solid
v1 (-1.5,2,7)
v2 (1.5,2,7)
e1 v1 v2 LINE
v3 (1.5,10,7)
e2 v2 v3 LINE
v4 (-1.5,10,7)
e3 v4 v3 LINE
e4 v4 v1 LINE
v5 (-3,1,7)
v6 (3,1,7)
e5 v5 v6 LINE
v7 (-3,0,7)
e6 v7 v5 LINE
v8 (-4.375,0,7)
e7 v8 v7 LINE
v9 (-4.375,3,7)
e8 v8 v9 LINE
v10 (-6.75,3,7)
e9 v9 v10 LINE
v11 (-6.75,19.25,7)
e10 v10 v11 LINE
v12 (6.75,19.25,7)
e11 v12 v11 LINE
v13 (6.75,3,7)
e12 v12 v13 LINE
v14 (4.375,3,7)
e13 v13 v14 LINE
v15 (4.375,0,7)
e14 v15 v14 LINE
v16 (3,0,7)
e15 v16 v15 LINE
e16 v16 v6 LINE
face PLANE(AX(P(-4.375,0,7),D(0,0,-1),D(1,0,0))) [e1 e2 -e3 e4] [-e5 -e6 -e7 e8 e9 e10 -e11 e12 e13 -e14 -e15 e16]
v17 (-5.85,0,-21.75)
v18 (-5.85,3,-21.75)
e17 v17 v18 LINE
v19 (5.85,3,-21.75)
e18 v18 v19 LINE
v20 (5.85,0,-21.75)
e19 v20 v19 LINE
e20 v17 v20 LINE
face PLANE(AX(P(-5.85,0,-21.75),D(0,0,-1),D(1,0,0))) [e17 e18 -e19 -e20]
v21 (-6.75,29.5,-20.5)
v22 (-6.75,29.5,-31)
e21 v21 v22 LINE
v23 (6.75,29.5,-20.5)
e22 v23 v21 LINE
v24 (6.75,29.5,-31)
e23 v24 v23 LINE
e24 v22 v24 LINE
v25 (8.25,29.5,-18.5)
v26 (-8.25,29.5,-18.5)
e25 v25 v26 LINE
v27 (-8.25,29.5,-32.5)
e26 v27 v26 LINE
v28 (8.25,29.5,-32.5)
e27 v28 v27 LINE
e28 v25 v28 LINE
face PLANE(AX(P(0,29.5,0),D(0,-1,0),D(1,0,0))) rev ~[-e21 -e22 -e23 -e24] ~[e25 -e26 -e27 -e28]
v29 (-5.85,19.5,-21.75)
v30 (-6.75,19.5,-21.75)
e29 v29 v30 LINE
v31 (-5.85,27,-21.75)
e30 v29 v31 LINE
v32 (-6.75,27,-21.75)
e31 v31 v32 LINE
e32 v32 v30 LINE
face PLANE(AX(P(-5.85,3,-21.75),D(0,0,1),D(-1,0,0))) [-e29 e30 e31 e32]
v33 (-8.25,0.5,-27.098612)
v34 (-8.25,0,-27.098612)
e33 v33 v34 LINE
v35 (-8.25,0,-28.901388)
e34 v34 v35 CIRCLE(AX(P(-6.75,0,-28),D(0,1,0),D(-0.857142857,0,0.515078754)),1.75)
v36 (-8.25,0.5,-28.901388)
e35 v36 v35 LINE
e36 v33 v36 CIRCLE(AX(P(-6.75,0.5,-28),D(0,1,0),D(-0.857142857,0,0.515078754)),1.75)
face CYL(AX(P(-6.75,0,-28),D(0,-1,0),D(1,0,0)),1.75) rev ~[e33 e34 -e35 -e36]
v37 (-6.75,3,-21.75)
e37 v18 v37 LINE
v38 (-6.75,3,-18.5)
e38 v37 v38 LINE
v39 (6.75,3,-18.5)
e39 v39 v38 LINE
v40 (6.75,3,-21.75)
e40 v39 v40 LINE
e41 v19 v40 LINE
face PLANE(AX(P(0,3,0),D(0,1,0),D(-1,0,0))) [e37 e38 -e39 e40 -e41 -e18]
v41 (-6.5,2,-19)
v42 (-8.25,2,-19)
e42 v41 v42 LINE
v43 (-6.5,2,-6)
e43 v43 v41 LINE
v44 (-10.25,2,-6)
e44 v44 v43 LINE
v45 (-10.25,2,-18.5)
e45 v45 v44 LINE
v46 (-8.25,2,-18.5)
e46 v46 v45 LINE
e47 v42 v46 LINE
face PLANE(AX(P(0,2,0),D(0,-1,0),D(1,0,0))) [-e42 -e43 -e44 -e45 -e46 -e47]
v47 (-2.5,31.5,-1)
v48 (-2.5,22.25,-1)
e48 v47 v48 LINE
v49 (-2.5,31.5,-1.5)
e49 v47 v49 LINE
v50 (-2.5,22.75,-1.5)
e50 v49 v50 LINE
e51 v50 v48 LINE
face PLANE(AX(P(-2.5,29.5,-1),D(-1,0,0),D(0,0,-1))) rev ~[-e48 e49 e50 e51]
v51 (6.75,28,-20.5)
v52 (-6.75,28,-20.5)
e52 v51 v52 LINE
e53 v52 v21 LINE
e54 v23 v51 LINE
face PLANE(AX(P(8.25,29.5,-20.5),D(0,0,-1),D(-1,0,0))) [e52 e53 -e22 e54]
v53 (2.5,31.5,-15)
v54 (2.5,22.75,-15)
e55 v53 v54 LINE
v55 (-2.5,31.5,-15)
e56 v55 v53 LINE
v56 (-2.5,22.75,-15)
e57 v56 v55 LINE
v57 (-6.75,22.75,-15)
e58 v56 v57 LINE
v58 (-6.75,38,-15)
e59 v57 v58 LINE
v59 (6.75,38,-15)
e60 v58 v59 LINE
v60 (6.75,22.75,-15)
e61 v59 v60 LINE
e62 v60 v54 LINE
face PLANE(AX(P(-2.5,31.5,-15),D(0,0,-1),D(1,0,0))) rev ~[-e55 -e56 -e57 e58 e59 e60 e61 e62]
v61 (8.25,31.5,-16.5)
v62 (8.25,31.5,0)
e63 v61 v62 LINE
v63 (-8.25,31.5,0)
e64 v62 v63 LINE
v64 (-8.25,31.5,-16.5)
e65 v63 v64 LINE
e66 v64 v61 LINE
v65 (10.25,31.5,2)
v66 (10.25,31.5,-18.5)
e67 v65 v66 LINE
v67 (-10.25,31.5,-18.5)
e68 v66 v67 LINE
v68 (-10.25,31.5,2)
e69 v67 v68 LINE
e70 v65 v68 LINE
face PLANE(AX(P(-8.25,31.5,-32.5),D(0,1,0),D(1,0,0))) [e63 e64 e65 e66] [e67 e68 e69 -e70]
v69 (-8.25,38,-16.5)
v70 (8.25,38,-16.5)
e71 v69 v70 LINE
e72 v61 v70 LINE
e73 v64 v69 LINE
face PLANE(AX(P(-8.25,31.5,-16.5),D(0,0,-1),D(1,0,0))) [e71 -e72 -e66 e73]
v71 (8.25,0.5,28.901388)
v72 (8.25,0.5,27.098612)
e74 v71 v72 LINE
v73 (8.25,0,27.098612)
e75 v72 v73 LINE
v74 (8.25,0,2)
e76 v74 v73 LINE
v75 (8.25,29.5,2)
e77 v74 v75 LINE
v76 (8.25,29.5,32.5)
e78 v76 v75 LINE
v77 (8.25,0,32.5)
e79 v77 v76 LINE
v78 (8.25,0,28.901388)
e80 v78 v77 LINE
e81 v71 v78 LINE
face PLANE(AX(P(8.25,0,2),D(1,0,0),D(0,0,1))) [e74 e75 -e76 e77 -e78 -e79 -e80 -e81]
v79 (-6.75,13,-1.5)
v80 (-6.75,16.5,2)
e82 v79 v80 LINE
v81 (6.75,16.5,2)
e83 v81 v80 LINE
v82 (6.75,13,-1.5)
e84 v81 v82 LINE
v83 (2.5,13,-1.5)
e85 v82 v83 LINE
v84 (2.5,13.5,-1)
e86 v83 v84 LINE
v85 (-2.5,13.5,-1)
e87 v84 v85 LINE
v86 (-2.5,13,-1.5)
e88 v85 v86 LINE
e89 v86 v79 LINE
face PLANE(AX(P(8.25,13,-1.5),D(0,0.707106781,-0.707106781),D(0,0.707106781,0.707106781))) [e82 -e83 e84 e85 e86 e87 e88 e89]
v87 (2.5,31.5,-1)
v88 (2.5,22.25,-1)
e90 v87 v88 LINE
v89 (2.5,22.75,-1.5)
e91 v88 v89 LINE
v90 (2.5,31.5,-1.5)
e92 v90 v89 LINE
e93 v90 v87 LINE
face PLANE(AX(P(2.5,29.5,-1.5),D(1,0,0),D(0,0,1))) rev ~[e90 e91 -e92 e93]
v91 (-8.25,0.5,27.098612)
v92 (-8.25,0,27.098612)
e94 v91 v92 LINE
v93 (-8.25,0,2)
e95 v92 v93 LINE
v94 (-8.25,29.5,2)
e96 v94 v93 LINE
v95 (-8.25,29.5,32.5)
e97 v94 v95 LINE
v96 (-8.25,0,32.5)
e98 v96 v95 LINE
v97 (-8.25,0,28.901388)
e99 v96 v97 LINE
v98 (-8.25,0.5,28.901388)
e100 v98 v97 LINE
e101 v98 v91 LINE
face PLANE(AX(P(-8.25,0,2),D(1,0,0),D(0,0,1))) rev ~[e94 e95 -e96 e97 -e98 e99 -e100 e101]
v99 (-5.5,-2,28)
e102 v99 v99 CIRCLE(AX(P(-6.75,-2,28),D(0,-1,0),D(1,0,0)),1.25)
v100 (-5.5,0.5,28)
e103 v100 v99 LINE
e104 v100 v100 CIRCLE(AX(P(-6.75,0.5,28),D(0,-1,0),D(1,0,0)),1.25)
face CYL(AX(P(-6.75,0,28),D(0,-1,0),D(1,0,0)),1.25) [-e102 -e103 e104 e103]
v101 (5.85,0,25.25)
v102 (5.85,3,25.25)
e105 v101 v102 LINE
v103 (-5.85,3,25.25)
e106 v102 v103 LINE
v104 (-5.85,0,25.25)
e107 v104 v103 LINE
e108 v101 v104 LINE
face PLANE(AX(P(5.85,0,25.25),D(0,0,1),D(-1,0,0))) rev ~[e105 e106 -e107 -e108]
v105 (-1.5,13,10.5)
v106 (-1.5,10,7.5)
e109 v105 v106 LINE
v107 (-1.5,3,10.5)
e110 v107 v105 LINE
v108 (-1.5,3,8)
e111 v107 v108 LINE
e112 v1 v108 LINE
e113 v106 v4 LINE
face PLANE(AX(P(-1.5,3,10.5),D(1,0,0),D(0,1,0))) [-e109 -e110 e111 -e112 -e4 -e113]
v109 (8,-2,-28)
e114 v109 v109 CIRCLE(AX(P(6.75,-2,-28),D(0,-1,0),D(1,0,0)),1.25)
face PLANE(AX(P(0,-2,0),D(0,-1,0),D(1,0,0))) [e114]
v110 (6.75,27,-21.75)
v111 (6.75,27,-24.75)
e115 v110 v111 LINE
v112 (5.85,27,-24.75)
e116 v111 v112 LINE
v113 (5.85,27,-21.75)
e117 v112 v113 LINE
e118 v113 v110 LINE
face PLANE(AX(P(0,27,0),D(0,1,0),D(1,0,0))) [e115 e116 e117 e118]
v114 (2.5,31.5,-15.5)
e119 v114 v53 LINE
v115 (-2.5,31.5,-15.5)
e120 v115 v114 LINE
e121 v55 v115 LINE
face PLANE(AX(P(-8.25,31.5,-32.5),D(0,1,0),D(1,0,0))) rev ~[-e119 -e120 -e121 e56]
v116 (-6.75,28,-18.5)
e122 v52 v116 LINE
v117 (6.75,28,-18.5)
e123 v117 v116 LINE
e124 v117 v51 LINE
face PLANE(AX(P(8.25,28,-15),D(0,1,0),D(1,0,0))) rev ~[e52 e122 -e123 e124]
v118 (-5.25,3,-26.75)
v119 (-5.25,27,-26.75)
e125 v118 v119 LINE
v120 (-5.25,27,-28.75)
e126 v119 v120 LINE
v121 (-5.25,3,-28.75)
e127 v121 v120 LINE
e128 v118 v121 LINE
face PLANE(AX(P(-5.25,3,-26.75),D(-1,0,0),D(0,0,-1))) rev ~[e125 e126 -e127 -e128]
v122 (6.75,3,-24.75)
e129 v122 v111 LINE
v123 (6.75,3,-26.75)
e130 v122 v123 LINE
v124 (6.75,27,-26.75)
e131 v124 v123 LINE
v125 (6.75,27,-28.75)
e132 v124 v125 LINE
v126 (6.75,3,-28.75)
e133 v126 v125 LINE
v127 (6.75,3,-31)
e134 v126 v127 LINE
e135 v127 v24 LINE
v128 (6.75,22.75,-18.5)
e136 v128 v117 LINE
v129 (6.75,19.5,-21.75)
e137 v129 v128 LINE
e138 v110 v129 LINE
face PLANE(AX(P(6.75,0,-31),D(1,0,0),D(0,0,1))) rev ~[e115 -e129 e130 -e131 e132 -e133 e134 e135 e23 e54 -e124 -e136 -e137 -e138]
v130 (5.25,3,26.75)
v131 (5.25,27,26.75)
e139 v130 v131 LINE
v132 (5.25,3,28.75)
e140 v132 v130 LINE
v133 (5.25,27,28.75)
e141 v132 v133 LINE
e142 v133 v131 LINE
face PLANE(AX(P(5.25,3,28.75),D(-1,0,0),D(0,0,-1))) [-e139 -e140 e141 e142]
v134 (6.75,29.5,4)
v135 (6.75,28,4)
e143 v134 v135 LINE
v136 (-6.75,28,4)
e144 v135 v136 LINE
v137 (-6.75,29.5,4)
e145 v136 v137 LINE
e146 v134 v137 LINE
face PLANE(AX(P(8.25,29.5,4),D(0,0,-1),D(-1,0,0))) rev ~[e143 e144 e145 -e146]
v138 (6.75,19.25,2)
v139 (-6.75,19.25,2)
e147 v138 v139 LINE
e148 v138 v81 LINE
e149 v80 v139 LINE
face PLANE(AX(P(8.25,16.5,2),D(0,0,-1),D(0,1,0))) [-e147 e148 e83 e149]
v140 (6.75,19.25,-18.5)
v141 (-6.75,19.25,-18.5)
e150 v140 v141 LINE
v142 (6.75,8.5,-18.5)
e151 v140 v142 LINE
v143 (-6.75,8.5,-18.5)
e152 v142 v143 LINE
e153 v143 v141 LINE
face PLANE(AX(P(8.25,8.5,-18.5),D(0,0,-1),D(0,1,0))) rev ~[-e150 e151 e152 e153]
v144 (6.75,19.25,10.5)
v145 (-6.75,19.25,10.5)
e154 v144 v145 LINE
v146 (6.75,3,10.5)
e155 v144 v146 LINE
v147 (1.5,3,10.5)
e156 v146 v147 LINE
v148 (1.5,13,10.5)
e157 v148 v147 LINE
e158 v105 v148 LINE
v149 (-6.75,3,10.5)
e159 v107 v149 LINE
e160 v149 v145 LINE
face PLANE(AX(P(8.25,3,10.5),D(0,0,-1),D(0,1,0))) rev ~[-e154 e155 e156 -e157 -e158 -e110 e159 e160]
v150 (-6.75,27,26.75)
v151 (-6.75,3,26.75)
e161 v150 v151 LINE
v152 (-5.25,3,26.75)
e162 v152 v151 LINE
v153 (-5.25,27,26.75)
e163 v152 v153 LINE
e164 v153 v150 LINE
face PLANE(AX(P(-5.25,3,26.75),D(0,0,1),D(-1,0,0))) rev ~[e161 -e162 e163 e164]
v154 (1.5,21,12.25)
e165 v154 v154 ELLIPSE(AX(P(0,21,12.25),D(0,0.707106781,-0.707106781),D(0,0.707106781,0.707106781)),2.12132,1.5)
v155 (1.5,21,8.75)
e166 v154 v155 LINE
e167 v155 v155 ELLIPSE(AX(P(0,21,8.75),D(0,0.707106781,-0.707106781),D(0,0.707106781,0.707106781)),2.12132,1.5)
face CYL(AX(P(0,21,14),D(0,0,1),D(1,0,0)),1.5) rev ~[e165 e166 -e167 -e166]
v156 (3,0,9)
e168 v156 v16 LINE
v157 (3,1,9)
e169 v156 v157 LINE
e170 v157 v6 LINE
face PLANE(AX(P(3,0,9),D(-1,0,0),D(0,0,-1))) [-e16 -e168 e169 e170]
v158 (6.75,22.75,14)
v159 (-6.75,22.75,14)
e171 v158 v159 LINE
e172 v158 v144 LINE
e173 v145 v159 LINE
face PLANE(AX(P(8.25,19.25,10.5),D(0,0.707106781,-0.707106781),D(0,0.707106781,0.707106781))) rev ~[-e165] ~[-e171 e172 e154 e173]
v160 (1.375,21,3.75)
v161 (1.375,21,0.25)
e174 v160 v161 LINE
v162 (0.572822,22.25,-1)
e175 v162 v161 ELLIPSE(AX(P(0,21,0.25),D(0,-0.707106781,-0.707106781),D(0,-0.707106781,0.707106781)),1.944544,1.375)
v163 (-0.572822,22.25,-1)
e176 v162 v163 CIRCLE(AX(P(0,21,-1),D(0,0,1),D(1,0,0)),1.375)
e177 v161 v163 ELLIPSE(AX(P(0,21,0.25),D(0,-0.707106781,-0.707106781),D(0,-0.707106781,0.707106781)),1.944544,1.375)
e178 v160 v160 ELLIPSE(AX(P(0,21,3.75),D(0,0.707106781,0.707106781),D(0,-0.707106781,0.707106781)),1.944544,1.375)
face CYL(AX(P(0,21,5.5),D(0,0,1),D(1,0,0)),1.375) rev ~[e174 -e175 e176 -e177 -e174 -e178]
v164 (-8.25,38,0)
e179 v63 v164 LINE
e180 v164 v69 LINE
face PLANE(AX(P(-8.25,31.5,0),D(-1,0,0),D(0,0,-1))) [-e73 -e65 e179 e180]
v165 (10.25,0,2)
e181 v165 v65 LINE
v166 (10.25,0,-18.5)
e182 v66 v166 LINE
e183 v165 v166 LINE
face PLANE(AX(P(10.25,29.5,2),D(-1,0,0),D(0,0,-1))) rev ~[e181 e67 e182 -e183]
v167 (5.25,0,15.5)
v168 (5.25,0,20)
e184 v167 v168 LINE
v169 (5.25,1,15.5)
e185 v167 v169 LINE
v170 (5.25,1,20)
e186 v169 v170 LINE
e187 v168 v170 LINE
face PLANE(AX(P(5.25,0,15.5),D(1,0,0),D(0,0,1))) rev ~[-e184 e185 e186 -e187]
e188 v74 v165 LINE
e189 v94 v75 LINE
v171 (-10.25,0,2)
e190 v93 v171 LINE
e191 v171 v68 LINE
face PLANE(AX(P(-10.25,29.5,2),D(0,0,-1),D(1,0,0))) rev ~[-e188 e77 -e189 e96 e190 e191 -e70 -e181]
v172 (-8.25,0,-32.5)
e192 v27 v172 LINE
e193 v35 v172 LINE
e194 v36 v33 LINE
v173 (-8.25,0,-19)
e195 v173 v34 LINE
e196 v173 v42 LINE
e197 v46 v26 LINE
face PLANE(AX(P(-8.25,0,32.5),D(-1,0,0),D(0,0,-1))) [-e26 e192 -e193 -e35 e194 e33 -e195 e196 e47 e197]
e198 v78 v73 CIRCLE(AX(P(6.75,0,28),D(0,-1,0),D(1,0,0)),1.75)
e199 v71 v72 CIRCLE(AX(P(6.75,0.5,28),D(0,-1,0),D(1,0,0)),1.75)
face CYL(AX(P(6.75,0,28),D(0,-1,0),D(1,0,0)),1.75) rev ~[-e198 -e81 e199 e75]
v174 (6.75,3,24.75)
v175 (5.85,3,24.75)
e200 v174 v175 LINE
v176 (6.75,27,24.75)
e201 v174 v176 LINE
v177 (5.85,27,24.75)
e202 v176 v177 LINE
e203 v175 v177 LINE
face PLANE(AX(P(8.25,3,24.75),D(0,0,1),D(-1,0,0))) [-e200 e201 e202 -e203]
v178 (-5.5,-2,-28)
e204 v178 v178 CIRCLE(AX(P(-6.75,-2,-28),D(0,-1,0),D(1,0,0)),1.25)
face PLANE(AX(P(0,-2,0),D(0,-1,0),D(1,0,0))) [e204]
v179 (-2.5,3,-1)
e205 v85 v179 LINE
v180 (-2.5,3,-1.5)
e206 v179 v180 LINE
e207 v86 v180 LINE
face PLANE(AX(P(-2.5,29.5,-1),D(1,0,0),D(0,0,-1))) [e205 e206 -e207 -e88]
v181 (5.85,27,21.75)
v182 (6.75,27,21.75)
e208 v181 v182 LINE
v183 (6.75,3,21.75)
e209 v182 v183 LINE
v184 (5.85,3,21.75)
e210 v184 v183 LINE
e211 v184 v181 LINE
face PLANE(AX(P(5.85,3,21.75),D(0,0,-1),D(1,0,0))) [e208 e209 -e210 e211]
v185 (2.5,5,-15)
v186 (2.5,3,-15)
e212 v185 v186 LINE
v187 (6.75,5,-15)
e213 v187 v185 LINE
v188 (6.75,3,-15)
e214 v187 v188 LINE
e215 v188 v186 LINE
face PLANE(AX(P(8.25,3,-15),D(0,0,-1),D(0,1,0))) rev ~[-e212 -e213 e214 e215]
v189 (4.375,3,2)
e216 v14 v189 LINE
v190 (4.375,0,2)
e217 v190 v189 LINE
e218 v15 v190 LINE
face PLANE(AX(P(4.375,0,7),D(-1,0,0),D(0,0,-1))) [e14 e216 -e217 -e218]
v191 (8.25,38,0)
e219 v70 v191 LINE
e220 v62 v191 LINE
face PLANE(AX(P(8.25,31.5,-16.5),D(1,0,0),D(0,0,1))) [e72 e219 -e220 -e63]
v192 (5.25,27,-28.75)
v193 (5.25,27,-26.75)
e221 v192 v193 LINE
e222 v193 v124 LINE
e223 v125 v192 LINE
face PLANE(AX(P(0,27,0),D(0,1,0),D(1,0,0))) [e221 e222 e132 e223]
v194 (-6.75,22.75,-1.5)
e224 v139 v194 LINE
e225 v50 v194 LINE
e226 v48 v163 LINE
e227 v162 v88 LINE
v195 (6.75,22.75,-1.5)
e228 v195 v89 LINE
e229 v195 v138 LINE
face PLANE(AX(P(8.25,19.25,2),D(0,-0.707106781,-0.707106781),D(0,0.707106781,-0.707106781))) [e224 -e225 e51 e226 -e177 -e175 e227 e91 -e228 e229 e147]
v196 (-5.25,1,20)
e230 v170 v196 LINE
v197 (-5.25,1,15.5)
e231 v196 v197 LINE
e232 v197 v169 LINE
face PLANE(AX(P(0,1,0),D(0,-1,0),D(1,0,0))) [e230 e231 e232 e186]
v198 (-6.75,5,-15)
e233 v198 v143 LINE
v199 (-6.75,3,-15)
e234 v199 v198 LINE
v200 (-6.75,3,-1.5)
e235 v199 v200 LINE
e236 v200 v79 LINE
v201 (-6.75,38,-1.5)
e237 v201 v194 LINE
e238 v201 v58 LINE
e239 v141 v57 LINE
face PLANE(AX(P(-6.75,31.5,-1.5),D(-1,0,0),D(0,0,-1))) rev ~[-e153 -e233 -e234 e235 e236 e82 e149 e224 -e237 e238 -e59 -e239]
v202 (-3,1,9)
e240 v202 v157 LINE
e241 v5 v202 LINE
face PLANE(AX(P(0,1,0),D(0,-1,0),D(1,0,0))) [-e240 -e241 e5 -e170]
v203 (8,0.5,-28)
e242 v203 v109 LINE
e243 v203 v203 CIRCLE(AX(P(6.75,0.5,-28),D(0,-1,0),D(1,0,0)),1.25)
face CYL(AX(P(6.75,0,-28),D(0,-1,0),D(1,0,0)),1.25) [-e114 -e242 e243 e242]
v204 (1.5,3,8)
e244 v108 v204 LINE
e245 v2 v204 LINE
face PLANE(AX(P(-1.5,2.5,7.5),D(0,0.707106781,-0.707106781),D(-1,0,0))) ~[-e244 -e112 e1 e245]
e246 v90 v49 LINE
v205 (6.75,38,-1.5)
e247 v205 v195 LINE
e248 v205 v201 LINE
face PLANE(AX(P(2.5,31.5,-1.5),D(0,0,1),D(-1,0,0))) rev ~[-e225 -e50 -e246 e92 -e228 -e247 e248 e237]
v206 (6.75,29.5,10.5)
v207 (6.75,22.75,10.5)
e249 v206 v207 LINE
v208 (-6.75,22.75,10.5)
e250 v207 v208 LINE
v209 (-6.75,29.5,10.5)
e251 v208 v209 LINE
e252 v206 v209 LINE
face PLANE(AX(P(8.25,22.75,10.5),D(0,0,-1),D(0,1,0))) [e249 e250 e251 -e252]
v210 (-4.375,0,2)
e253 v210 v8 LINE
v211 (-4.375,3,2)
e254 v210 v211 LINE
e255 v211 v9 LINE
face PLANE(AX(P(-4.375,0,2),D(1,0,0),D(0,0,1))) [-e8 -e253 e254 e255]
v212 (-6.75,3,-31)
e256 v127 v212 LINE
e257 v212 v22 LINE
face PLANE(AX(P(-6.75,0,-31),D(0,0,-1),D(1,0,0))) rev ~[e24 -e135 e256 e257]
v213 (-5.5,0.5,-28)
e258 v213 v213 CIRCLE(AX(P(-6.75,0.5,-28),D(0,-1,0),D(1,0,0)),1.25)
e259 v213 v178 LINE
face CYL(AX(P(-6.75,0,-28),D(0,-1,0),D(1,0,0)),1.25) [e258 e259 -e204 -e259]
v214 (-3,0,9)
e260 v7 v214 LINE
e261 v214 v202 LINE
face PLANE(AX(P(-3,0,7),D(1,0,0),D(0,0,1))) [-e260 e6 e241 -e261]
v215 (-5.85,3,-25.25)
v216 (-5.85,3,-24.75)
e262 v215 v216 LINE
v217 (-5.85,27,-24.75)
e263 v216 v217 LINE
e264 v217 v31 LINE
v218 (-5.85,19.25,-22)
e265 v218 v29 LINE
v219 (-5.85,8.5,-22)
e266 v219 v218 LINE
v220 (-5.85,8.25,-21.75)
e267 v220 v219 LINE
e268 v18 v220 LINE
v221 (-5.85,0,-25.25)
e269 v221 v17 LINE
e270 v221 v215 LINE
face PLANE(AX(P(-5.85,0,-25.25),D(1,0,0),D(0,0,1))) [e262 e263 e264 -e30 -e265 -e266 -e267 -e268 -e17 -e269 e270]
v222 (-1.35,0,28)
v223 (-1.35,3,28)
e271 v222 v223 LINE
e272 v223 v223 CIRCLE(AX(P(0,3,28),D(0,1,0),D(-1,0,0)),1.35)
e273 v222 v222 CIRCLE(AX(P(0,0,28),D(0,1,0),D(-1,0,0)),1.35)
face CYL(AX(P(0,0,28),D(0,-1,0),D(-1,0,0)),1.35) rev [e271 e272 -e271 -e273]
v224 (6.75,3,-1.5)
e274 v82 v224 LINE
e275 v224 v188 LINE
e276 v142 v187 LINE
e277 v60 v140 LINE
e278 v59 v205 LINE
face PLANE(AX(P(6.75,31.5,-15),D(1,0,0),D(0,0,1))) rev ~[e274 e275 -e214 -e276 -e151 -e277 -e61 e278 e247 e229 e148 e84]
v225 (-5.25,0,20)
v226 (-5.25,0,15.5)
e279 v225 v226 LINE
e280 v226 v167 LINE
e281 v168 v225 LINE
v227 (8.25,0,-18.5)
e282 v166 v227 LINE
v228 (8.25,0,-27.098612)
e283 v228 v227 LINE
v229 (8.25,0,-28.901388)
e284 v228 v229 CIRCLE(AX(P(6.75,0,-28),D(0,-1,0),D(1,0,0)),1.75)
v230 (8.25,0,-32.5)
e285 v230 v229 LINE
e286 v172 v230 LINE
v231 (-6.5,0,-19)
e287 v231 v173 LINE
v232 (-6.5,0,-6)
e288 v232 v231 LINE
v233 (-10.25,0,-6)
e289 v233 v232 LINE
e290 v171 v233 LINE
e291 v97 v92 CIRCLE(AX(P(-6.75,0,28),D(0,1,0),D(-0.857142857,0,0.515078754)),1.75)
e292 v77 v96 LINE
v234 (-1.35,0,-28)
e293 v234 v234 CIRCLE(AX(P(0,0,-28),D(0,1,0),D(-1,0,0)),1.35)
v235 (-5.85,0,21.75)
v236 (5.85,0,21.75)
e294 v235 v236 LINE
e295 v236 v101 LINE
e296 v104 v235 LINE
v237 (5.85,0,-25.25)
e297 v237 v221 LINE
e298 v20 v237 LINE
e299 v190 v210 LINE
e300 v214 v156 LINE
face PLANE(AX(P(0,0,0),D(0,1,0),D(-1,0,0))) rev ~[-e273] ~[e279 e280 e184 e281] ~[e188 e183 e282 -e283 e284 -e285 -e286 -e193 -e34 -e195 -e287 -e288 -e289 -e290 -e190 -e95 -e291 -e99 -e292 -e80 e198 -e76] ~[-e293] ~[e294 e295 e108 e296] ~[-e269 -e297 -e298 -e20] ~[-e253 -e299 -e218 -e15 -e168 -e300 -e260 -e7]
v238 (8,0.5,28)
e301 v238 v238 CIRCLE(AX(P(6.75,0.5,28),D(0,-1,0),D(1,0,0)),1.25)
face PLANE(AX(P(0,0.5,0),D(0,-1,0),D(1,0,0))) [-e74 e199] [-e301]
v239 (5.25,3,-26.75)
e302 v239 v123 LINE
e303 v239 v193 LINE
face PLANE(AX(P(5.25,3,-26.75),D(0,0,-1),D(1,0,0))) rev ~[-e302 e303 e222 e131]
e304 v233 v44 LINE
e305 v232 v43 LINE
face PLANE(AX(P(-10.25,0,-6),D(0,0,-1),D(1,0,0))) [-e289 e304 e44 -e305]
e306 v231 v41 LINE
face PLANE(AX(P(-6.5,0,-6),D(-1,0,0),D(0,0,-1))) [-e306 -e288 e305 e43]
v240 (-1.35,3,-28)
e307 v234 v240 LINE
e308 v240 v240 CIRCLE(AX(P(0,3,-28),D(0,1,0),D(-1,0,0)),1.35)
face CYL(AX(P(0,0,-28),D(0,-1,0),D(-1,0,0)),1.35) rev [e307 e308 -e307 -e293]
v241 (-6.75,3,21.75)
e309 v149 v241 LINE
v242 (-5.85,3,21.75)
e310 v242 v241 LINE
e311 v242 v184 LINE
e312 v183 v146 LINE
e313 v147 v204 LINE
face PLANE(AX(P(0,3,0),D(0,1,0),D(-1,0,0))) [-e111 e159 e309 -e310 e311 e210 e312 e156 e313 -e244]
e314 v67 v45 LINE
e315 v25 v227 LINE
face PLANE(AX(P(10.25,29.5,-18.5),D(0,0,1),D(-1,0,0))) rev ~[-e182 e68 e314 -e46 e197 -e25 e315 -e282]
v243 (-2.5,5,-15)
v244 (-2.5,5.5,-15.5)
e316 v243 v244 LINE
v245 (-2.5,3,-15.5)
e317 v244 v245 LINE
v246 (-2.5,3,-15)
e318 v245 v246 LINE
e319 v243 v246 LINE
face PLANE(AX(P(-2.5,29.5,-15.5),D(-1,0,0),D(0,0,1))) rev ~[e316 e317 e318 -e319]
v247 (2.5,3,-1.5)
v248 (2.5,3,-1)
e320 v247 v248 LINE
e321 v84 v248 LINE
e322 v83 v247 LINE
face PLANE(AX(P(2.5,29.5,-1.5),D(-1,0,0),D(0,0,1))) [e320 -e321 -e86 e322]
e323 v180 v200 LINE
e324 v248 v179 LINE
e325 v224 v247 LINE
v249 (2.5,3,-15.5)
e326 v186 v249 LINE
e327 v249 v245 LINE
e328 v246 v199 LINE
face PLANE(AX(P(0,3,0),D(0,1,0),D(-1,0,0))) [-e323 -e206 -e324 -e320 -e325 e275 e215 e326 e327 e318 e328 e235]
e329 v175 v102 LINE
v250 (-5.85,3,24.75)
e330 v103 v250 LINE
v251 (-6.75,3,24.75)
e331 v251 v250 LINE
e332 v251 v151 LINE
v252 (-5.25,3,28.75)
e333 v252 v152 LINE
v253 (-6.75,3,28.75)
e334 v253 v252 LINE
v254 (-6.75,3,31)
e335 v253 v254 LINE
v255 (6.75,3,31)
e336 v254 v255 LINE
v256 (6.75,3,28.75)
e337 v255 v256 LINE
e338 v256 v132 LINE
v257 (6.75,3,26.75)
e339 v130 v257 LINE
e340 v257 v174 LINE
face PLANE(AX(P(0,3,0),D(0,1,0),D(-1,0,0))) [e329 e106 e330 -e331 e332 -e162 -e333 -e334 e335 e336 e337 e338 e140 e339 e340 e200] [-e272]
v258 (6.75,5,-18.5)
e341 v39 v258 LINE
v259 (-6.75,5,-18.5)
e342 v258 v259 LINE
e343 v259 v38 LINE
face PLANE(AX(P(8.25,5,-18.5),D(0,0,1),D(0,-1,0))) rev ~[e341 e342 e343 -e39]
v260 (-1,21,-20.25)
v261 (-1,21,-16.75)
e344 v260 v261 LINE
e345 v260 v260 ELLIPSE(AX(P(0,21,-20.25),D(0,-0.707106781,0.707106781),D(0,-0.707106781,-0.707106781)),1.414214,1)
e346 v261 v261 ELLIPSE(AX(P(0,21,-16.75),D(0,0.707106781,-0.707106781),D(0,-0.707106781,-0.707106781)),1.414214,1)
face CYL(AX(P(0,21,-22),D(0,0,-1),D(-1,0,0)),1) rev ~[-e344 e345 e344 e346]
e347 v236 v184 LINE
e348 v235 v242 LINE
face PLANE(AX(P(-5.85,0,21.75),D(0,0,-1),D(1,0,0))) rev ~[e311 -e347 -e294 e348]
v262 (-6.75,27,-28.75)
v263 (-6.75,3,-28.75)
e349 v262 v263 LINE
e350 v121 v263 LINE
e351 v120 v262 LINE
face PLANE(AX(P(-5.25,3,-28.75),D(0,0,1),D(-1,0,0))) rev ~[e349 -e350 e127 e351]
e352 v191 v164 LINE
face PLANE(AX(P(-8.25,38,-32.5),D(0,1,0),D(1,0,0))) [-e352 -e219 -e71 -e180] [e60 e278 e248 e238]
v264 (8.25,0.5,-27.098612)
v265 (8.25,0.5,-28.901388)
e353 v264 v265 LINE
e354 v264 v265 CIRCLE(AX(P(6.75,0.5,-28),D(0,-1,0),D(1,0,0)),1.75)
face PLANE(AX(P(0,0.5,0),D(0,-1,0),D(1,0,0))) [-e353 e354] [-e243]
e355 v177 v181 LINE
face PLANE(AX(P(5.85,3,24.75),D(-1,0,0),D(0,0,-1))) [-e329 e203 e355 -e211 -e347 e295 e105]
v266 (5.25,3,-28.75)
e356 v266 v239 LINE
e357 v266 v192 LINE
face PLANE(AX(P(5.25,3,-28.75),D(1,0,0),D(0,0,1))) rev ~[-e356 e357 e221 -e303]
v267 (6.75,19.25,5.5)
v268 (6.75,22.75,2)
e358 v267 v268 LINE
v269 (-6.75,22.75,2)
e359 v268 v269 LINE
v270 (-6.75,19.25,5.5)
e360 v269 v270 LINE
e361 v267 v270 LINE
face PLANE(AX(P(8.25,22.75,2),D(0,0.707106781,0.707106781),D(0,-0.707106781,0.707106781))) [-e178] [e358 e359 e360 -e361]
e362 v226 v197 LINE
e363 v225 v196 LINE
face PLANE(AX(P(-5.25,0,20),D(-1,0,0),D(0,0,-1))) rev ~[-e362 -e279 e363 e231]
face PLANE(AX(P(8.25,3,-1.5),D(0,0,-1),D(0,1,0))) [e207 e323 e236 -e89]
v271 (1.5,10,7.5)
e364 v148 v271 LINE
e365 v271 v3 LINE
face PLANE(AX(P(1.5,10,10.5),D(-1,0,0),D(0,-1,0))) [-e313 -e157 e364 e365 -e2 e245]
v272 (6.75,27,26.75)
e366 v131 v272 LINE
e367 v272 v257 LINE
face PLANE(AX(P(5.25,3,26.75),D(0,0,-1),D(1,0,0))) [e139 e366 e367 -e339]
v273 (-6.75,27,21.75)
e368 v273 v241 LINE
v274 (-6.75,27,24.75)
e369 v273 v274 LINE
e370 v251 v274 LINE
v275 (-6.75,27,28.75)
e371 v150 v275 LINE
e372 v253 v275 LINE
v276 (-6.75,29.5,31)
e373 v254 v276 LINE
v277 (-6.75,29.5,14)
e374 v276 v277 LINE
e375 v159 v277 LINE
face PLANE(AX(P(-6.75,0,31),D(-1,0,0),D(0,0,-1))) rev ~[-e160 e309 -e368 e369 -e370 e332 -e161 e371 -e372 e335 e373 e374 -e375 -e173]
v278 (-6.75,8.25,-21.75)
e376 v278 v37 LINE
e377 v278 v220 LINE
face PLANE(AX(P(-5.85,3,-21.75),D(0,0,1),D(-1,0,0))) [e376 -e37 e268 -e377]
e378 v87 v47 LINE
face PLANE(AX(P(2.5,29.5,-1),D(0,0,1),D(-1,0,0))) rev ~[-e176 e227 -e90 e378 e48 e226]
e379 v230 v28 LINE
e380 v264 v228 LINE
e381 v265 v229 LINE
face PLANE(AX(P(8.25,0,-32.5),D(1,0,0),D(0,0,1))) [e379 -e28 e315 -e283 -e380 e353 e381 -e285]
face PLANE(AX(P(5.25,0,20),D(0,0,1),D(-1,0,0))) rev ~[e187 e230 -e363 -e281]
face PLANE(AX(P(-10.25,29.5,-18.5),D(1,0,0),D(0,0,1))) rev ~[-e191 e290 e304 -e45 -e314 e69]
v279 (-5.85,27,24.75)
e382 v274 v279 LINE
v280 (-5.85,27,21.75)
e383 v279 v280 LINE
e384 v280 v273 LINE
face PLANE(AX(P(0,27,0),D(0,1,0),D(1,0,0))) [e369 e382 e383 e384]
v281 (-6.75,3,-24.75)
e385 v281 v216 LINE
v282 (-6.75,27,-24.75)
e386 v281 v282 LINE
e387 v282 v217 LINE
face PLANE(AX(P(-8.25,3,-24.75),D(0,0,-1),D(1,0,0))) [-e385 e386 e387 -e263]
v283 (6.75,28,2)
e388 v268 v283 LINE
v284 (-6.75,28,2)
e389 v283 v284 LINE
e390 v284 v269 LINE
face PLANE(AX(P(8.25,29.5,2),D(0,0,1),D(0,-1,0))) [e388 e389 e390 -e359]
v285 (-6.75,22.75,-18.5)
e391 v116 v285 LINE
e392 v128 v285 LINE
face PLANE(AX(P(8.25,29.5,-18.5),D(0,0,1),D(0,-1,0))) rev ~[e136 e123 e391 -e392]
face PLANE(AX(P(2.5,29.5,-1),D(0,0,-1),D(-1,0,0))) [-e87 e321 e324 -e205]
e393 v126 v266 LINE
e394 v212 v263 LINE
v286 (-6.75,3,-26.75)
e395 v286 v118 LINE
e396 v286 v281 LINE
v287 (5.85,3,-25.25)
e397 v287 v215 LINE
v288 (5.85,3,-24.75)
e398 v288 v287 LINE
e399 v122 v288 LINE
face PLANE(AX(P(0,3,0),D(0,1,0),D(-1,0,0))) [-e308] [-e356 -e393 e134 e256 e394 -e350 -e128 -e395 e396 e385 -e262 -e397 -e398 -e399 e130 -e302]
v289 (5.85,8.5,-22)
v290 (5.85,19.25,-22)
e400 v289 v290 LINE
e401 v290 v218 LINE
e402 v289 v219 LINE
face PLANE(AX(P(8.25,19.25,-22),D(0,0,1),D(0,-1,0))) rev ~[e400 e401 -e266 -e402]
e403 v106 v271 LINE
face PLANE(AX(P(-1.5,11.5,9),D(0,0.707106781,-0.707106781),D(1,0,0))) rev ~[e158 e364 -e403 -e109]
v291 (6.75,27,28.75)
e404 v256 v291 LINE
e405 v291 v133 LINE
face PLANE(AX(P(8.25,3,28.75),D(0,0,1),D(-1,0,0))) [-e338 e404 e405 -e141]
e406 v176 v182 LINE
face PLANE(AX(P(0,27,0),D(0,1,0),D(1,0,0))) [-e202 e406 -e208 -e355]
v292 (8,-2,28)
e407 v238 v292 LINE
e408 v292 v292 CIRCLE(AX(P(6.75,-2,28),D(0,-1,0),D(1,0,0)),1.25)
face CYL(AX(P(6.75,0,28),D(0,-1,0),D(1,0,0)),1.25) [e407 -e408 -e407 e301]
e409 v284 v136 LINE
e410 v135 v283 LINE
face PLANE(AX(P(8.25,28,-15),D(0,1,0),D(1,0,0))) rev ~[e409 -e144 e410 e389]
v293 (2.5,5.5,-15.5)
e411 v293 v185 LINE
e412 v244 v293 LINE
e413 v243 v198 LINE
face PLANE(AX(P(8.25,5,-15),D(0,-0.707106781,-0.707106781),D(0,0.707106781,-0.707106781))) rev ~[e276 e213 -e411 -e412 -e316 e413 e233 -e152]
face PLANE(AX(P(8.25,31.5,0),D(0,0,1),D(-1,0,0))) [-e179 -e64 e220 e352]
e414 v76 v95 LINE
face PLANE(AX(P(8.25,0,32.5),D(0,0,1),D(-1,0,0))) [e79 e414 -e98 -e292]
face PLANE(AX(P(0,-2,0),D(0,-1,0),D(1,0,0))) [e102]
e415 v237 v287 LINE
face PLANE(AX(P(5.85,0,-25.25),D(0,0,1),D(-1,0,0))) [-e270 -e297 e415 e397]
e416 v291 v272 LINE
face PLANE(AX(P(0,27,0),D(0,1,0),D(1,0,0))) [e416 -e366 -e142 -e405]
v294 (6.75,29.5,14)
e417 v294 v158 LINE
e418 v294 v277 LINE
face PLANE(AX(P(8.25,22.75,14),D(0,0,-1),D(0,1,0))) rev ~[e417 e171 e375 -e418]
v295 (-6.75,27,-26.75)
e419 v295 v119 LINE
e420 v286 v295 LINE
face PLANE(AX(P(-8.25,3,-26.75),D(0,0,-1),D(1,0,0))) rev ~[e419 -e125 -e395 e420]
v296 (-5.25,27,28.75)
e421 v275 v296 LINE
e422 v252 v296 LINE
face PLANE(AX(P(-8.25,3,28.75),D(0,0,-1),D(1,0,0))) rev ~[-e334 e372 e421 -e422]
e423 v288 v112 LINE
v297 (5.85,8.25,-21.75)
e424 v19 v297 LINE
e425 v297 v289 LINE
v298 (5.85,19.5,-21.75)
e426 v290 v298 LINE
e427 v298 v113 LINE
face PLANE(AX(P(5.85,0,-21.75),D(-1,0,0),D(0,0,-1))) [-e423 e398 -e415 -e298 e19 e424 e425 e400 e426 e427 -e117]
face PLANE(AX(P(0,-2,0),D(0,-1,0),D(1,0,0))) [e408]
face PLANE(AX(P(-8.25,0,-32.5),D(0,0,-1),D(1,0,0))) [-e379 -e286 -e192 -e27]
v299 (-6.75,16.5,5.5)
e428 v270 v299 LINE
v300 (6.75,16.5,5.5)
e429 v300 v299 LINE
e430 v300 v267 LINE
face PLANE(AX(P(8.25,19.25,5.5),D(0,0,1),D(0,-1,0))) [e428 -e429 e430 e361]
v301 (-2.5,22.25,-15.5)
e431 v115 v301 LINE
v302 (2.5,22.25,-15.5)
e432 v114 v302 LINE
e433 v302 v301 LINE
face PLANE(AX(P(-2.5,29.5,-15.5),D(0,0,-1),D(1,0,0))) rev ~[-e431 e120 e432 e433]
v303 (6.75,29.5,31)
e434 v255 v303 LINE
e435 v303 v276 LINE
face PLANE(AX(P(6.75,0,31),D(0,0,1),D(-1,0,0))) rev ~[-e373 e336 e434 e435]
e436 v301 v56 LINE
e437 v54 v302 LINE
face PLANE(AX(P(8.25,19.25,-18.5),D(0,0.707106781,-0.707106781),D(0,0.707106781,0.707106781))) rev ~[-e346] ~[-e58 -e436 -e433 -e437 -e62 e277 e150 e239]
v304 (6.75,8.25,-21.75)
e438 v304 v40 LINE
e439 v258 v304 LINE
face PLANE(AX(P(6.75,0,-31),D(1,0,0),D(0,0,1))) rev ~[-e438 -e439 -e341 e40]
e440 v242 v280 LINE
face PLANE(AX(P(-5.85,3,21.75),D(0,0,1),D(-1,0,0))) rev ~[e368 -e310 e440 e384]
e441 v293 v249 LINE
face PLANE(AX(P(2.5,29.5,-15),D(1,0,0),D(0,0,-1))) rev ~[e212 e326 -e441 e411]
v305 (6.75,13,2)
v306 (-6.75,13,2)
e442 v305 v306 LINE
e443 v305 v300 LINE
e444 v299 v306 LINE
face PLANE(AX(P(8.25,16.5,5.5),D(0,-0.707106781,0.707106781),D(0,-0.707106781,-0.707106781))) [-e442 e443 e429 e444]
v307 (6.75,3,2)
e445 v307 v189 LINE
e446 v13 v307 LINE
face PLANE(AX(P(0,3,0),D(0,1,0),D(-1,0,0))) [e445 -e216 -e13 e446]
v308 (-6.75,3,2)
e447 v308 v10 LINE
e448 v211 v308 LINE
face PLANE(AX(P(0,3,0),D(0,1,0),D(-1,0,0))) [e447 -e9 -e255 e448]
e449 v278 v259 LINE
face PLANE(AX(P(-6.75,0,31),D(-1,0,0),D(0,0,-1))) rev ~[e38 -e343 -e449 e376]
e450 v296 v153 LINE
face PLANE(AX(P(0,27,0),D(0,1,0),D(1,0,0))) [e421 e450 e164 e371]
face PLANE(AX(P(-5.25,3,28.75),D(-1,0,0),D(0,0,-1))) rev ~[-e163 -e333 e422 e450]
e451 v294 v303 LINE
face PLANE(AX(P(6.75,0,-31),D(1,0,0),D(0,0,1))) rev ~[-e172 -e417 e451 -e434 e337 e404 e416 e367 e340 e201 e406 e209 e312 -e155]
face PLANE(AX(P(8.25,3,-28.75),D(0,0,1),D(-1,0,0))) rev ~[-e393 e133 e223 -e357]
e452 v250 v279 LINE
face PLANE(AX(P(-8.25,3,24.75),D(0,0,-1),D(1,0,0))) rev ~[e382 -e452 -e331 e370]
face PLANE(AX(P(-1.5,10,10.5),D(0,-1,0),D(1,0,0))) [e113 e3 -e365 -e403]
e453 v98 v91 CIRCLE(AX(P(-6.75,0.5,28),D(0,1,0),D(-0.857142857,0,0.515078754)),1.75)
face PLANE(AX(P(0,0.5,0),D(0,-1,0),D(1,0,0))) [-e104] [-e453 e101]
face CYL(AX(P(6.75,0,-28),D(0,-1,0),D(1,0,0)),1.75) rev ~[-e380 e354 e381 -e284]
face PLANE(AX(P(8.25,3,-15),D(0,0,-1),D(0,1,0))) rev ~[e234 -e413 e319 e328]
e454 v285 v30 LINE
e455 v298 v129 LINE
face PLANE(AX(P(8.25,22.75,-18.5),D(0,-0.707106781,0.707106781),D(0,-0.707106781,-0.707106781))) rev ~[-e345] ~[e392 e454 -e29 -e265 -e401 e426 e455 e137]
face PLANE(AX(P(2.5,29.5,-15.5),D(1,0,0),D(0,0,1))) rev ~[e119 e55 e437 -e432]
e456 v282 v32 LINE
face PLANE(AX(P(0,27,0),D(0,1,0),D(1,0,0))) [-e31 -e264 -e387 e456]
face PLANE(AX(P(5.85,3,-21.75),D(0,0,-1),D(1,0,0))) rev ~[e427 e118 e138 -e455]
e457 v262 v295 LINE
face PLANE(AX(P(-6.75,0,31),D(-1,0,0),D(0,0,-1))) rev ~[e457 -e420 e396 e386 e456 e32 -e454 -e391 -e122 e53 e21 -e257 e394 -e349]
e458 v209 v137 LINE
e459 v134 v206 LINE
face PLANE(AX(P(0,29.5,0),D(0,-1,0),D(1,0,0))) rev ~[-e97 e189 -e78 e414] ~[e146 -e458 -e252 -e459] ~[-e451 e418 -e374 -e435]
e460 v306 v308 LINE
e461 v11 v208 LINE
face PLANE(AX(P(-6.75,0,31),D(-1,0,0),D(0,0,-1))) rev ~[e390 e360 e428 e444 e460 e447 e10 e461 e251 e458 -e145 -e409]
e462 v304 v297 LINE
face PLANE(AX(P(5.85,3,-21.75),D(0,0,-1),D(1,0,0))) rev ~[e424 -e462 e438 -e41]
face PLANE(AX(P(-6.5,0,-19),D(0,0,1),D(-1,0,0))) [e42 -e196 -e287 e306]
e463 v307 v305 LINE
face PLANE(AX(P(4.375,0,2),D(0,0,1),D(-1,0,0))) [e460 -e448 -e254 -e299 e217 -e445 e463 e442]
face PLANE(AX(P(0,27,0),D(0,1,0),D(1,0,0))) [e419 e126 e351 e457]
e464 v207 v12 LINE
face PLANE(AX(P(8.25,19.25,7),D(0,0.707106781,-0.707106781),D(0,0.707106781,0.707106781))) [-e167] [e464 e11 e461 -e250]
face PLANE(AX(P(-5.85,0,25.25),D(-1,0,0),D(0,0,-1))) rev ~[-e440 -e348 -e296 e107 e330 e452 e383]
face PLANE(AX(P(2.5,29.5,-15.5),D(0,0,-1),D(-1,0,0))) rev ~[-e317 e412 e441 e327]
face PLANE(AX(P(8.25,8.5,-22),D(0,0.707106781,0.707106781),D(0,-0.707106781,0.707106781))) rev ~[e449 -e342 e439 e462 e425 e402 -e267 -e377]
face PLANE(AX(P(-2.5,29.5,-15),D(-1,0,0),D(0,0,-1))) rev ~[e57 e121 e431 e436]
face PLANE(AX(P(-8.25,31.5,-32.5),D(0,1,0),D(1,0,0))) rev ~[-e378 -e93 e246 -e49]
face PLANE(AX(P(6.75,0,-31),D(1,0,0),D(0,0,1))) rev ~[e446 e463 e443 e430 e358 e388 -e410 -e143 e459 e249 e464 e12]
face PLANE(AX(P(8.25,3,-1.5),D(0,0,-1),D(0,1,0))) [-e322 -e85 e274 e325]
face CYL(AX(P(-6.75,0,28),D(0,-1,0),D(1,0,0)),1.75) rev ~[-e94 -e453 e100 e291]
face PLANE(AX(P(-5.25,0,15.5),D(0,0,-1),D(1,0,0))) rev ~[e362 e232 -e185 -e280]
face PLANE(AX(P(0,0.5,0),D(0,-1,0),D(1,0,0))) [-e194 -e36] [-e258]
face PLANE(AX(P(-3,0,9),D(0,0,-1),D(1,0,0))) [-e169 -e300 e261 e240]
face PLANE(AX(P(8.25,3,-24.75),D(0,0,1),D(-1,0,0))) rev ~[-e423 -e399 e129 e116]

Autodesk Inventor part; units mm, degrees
ref_plane "YZ Plane" through (0, 0, 0) normal (1, 0, 0) x (0, 1, 0)
ref_plane "XZ Plane" through (0, 0, 0) normal (0, 1, 0) x (-1, 0, 0)
ref_plane "XY Plane" through (0, 0, 0) normal (0, 0, 1) x (1, 0, 0)
sketch "BasePlateSketch" plane through (0, 0, 0) normal (0, 1, 0) x (-1, 0, 0)
  line L0 (-8.25, 32.5) -> (8.25, 32.5)
  line L1 (8.25, 32.5) -> (8.25, -32.5)
  line L2 (8.25, -32.5) -> (-8.25, -32.5)
  line L3 (-8.25, -32.5) -> (-8.25, 32.5)
  line L4 (-8.25, 32.5) -> (8.25, -32.5) construction
  line L5 (8.25, 32.5) -> (-8.25, -32.5) construction
  circle A0 centre (0, 28) radius 1.35
  circle A1 centre (0, -28) radius 1.35
  line L6 (-5.85, -25.25) -> (5.85, -25.25)
  line L7 (5.85, -25.25) -> (5.85, -21.75)
  line L8 (5.85, -21.75) -> (-5.85, -21.75)
  line L9 (-5.85, -21.75) -> (-5.85, -25.25)
  line L10 (-5.85, -25.25) -> (5.85, -21.75) construction
  line L11 (5.85, -25.25) -> (-5.85, -21.75) construction
  line L12 (-5.85, 25.25) -> (5.85, 25.25)
  line L13 (5.85, 25.25) -> (5.85, 21.75)
  line L14 (5.85, 21.75) -> (-5.85, 21.75)
  line L15 (-5.85, 21.75) -> (-5.85, 25.25)
  line L16 (-5.85, 25.25) -> (5.85, 21.75) construction
  line L17 (5.85, 25.25) -> (-5.85, 21.75) construction
  line L18 (4.375, 7) -> (-4.375, 7)
  line L19 (-4.375, 7) -> (-4.375, 2)
  line L20 (-4.375, 2) -> (4.375, 2)
  line L21 (4.375, 2) -> (4.375, 7)
  line L22 (4.375, 7) -> (-4.375, 2) construction
  line L23 (-4.375, 7) -> (4.375, 2) construction
  point P0 (0, 0)
  point P1 (0, 0)
  point P2 (0, 0)
  point P3 (0, -23.5)
  point P4 (0, -23.5)
  point P5 (0, 23.5)
  point P6 (0, 23.5)
  point P7 (0, 4.5)
  point P8 (0, 4.5)
  dimension "d0" = 16.5
  dimension "d1" = 65
  dimension "d2" = 4.5
  dimension "d3" = 2.7
  dimension "d4" = 4.5
  dimension "d21" = 11.7
  dimension "d22" = 3.5
  dimension "d23" = 9
  dimension "d24" = 9
  dimension "d25" = 5
  dimension "d26" = 8.75
  dimension "d27" = 25.5
extrude "BasePlate" add sketch "BasePlateSketch" along normal blind 3
sketch "SeparationsSketch" plane through (8.25, 0, 32.5) normal (1, 0, 0) x (0, 0, -1)
  line L0 (0, 3) -> (65, 3) projected
  line L1 (47.5, 3) -> (51, 3)
  line L2 (47.5, 3) -> (47.5, 5)
  line L3 (47.5, 5) -> (51, 8.5)
  line L4 (51, 8.5) -> (51, 19.25)
  line L5 (51, 19.25) -> (47.5, 22.75)
  line L6 (47.5, 22.75) -> (47.5, 29.5)
  line L7 (47.5, 29.5) -> (51, 29.5)
  line L8 (51, 29.5) -> (51, 22.75)
  line L9 (51, 22.75) -> (54.5, 19.25)
  line L10 (54.5, 19.25) -> (54.5, 8.5)
  line L11 (54.5, 8.5) -> (51, 5)
  line L12 (51, 5) -> (51, 3)
  line L13 (30.5, 3) -> (34, 3)
  line L14 (34, 3) -> (34, 13)
  line L15 (34, 13) -> (30.5, 16.5)
  line L16 (30.5, 16.5) -> (30.5, 19.25)
  line L17 (30.5, 19.25) -> (34, 22.75)
  line L18 (34, 22.75) -> (34, 29.5)
  line L19 (34, 29.5) -> (30.5, 29.5)
  line L20 (30.5, 29.5) -> (30.5, 22.75)
  line L21 (30.5, 22.75) -> (27, 19.25)
  line L22 (27, 19.25) -> (27, 16.5)
  line L23 (27, 16.5) -> (30.5, 13)
  line L24 (30.5, 13) -> (30.5, 3)
  line L25 (25.5, 0) -> (25.5, 3) projected
  line L26 (25.5, 3) -> (22, 3)
  line L27 (65, 3) -> (0, 3) projected
  line L28 (25.5, 3) -> (25.5, 19.25)
  line L29 (25.5, 19.25) -> (22, 22.75)
  line L30 (22, 22.75) -> (22, 29.5)
  line L31 (22, 29.5) -> (18.5, 29.5)
  line L32 (22, 3) -> (22, 19.25)
  line L33 (22, 19.25) -> (18.5, 22.75)
  line L34 (18.5, 22.75) -> (18.5, 29.5)
  point P0 (32.5, 0)
  point P1 (52.75, 21)
  point P2 (49.25, 21)
  point P3 (52.75, 6.75)
  point P4 (49.25, 6.75)
  point P5 (32.25, 21)
  point P6 (28.75, 21)
  point P7 (32.25, 14.75)
  point P8 (28.75, 14.75)
  point P9 (23.75, 21)
  point P10 (20.25, 21)
  dimension "d7" = 3.5
  dimension "d8" = 3.5
  dimension "d9" = 14
  dimension "d10" = 18
  dimension "d11" = 26.5
  dimension "d13" = 2
  dimension "d14" = 135
  dimension "d16" = 3.5
  dimension "d18" = 13.5
  dimension "d19" = 10
  dimension "d20" = 135
  dimension "d28" = 135
extrude "Separations" add sketch "SeparationsSketch" against normal blind 16.5
sketch "Aperture1Sketch" plane through (8.25, 22.75, 14) normal (0, 0, 1) x (1, 0, 0)
  circle A0 centre (-8.25, -1.75) radius 1.5
  line L0 (-16.5, -19.75) -> (0, -19.75) projected
  line L1 (0, -22.75) -> (-16.5, -22.75) projected
  point P0 (-8.25, -22.75)
  point P1 (-8.25, -22.75)
  dimension "d31" = 3
  dimension "d32" = 18
extrude "Aperture1" cut sketch "Aperture1Sketch" against normal up to surface (8.5 mm away)
sketch "Aperture2Sketch" plane through (8.25, 16.5, 5.5) normal (0, 0, 1) x (1, 0, 0)
  circle A0 centre (-8.25, 4.5) radius 1.5 projected
  circle A1 centre (-8.25, 4.5) radius 1.375
  point P0 (-8.25, -16.5)
  dimension "d35" = 2.75
extrude "Aperture2" cut sketch "Aperture2Sketch" against normal up to surface (20.5 mm away) contours A1
sketch "Aperture3Sketch" plane through (8.25, 8.5, -22) normal (0, 0, -1) x (-1, 0, 0)
  circle A0 centre (8.25, 12.5) radius 1.375 projected
  circle A1 centre (8.25, 12.5) radius 1
  point P0 (8.25, -8.5)
  point P1 (7.989, 11.65)
  point P2 (7.989, 14.35)
  dimension "d38" = 2
extrude "Aperture3" cut sketch "Aperture3Sketch" against normal up to surface (20.5 mm away) contours A1
sketch "ApertureRefSketch" plane through (8.25, 3, 10.5) normal (0, 0, 1) x (1, 0, 0)
  line L0 (-16.5, 0) -> (0, 0) projected
  line L1 (-9.75, 7) -> (-6.75, 7)
  line L2 (-6.75, 7) -> (-6.75, 0)
  line L3 (-6.75, 0) -> (-9.75, 0)
  line L4 (-9.75, 0) -> (-9.75, 7)
  line L5 (-9.75, 7) -> (-6.75, 0) construction
  line L6 (-6.75, 7) -> (-9.75, 0) construction
  line L7 (0, -3) -> (-16.5, -3) projected
  point P0 (-8.25, -3)
  point P1 (-8.25, 3.5)
  point P2 (-8.25, 3.5)
  point P3 (-8.25, -3)
  dimension "d41" = 7
  dimension "d42" = 3
extrude "ApertureRef" cut sketch "ApertureRefSketch" against normal up to next
chamfer "ApertureRefChamfer" distance 3 angle 45 1 edges at (0, 10, 10.5)
sketch "OverlapSketch" plane through (8.25, 29.5, -15) normal (0, 1, 0) x (1, 0, 0)
  line L0 (0, 0) -> (-16.5, 0) projected
  line L1 (0, 17.5) -> (0, -47.5) projected
  line L2 (-16.5, 0) -> (0, 0)
  line L3 (0, 0) -> (0, 5.5)
  line L4 (0, 5.5) -> (-16.5, 5.5)
  line L5 (-16.5, 5.5) -> (-16.5, 0)
  line L6 (0, -13.5) -> (-16.5, -13.5) projected
  line L7 (0, -17) -> (0, -20.5) projected
  line L8 (-16.5, -13.5) -> (0, -13.5)
  line L9 (0, -13.5) -> (0, -19)
  line L10 (0, -19) -> (-16.5, -19)
  line L11 (-16.5, -19) -> (-16.5, -13.5)
  line L12 (0, -17) -> (-16.5, -17) projected
  line L13 (0, 3.5) -> (-16.5, 3.5) projected
  point P0 (-8.25, -15)
  dimension "d48" = 2
  dimension "d49" = 2
extrude "Overlap" add sketch "OverlapSketch" against normal blind 1.5
sketch "SampleProtectionCutoutSketch" plane through (-8.25, 29.5, -15) normal (0, 1, 0) x (1, 0, 0)
  line L0 (16.5, -13.5) -> (0, -13.5) projected
  line L1 (5.75, -13.5) -> (10.75, -13.5)
  line L2 (10.75, -13.5) -> (10.75, -14)
  line L3 (10.75, -14) -> (5.75, -14)
  line L4 (5.75, -14) -> (5.75, -13.5)
  line L5 (16.5, 0) -> (0, 0) projected
  line L6 (5.75, 0) -> (10.75, 0)
  line L7 (10.75, 0) -> (10.75, 0.5)
  line L8 (10.75, 0.5) -> (5.75, 0.5)
  line L9 (5.75, 0.5) -> (5.75, 0)
  point P0 (8.25, -15)
  point P1 (8.25, -13.5)
  point P2 (8.25, -13.5)
  dimension "d52" = 0.5
  dimension "d53" = 5
extrude "SampleProtectionCutout" cut sketch "SampleProtectionCutoutSketch" against normal blind 26.5
sketch "ModuleSlidersSketch" plane through (0, 3, 0) normal (0, 1, 0) x (1, 0, 0)
  line L0 (-5.85, -25.25) -> (-5.85, -21.75) projected
  line L1 (-8.25, -32.5) -> (-8.25, 32.5) projected
  line L2 (-5.85, -21.75) -> (-8.25, -21.75)
  line L3 (-8.25, -21.75) -> (-8.25, -24.75)
  line L4 (-8.25, -24.75) -> (-5.85, -24.75)
  line L5 (-5.85, -24.75) -> (-5.85, -21.75)
  line L6 (8.25, 32.5) -> (8.25, -32.5) projected
  line L7 (5.85, -21.75) -> (8.25, -21.75)
  line L8 (8.25, -21.75) -> (8.25, -24.75)
  line L9 (8.25, -24.75) -> (5.85, -24.75)
  line L10 (5.85, -24.75) -> (5.85, -21.75)
  line L11 (-5.85, 25.25) -> (-5.85, 21.75) projected
  line L12 (-5.85, 21.75) -> (-8.25, 21.75)
  line L13 (-8.25, 21.75) -> (-8.25, 24.75)
  line L14 (-8.25, 24.75) -> (-5.85, 24.75)
  line L15 (-5.85, 24.75) -> (-5.85, 21.75)
  line L16 (-5.85, 21.75) -> (5.85, 21.75) projected
  line L17 (5.85, 21.75) -> (8.25, 21.75)
  line L18 (8.25, 21.75) -> (8.25, 24.75)
  line L19 (8.25, 24.75) -> (5.85, 24.75)
  line L20 (5.85, 24.75) -> (5.85, 21.75)
  line L21 (-8.25, -28.75) -> (-5.25, -28.75)
  line L22 (-5.25, -28.75) -> (-5.25, -26.75)
  line L23 (-5.25, -26.75) -> (-8.25, -26.75)
  line L24 (-8.25, -26.75) -> (-8.25, -28.75)
  line L25 (8.25, -28.75) -> (5.25, -28.75)
  line L26 (5.25, -28.75) -> (5.25, -26.75)
  line L27 (5.25, -26.75) -> (8.25, -26.75)
  line L28 (8.25, -26.75) -> (8.25, -28.75)
  line L29 (-8.25, 26.75) -> (-5.25, 26.75)
  line L30 (-5.25, 26.75) -> (-5.25, 28.75)
  line L31 (-5.25, 28.75) -> (-8.25, 28.75)
  line L32 (-8.25, 28.75) -> (-8.25, 26.75)
  line L33 (8.25, 28.75) -> (5.25, 28.75)
  line L34 (5.25, 28.75) -> (5.25, 26.75)
  line L35 (5.25, 26.75) -> (8.25, 26.75)
  line L36 (8.25, 26.75) -> (8.25, 28.75)
  line L37 (-8.25, -32.5) -> (8.25, -32.5) projected
  line L38 (8.25, 32.5) -> (-8.25, 32.5) projected
  point P0 (0, 0)
  dimension "d56" = 2
  dimension "d57" = 2
  dimension "d58" = 2
  dimension "d59" = 10.5
  dimension "d60" = 3.75
  dimension "d61" = 3.75
extrude "ModuleSliders" add sketch "ModuleSlidersSketch" along normal blind 24 contours L4 L1 L2 L0 | L23 L22 L21 L1 | L1 L14 L11 L12 | L1 L31 L30 L29 | L20 L19 L6 L17 | L25 L26 L27 L6 | L6 L9 L10 L7 | L35 L34 L33 L6
sketch "BaseplateComponentsCutoutSketch" plane through (0, 0, 0) normal (0, -1, 0) x (1, 0, 0)
  line L0 (-4.375, 7) -> (4.375, 7) projected
  line L1 (3, 7) -> (-3, 7)
  line L2 (-3, 7) -> (-3, 9)
  line L3 (-3, 9) -> (3, 9)
  line L4 (3, 9) -> (3, 7)
  line L5 (5.25, 20) -> (-5.25, 20)
  line L6 (-5.25, 20) -> (-5.25, 15.5)
  line L7 (-5.25, 15.5) -> (5.25, 15.5)
  line L8 (5.25, 15.5) -> (5.25, 20)
  line L9 (5.85, 21.75) -> (-5.85, 21.75) projected
  point P0 (0, 0)
  point P1 (0, 9)
  point P2 (0, 15.5)
  dimension "d64" = 1.75
  dimension "d65" = 4.5
  dimension "d66" = 10.5
  dimension "d67" = 6
  dimension "d68" = 2
extrude "BaseplateComponentsCutout" cut sketch "BaseplateComponentsCutoutSketch" against normal blind 1
sketch "OuterWallsSketch" plane through (0, 0, 0) normal (0, -1, 0) x (1, 0, 0)
  line L0 (8.25, 32.5) -> (-8.25, 32.5) projected
  line L1 (8.25, -32.5) -> (8.25, 32.5) projected
  line L2 (-8.25, 32.5) -> (8.25, 32.5)
  line L3 (8.25, 32.5) -> (8.25, -32.5)
  line L4 (8.25, -32.5) -> (-8.25, -32.5)
  line L5 (-8.25, -32.5) -> (-8.25, 32.5)
  line L6 (6.75, 31) -> (-6.75, 31)
  line L7 (-6.75, 31) -> (-6.75, -31)
  line L8 (-6.75, -31) -> (6.75, -31)
  line L9 (6.75, -31) -> (6.75, 31)
  line L10 (8.25, 2) -> (10.25, 2)
  line L11 (10.25, 2) -> (10.25, -18.5)
  line L12 (10.25, -18.5) -> (8.25, -18.5)
  line L13 (8.25, -18.5) -> (8.25, 2)
  line L14 (-8.25, 2) -> (-10.25, 2)
  line L15 (-10.25, 2) -> (-10.25, -18.5)
  line L16 (-10.25, -18.5) -> (-8.25, -18.5)
  line L17 (-8.25, -18.5) -> (-8.25, 2)
  point P0 (0, 0)
  point P1 (6.75, 0)
  point P2 (0, -31)
  dimension "d72" = 13.5
  dimension "d73" = 1.5
  dimension "d74" = 3.5
extrude "OuterWalls" add sketch "OuterWallsSketch" against normal blind 29.5
sketch "ExpansionHeaderCutoutSketch" plane through (0, 0, 0) normal (0, -1, 0) x (1, 0, 0)
  line L0 (-10.25, -18.5) -> (-10.25, 2) projected
  line L1 (-10.25, -6) -> (-6.5, -6)
  line L2 (-6.5, -6) -> (-6.5, -19)
  line L3 (-6.5, -19) -> (-10.25, -19)
  line L4 (-10.25, -19) -> (-10.25, -6)
  line L5 (-8.25, -32.5) -> (8.25, -32.5) projected
  point P0 (0, 0)
  dimension "d77" = 13.5
  dimension "d78" = 13
  dimension "d82" = 3.75
extrude "ExpansionHeaderCutout" cut sketch "ExpansionHeaderCutoutSketch" against normal blind 2
sketch "AlignmentPadsSketch" plane through (0, 0, 0) normal (0, -1, 0) x (1, 0, 0)
  circle A0 centre (6.75, 28) radius 1.25
  circle A1 centre (6.75, -28) radius 1.25
  circle A2 centre (-6.75, -28) radius 1.25
  circle A3 centre (-6.75, 28) radius 1.25
  line L0 (8.25, -32.5) -> (8.25, -18.5) projected
  line L1 (-8.25, -32.5) -> (8.25, -32.5) projected
  point P0 (0, 0)
  dimension "d83" = 2.5
  dimension "d84" = 56
  dimension "d85" = 13.5
  dimension "d86" = 1.5
  dimension "d87" = 4.5
extrude "AlignmentPads" add sketch "AlignmentPadsSketch" along normal blind 2
sketch "SampleGuideSpacerSketch" plane through (-8.25, 29.5, -32.5) normal (0, 1, 0) x (1, 0, 0)
  line L0 (-2, -34.5) -> (0, -34.5) projected
  line L1 (18.5, -34.5) -> (18.5, -14) projected
  line L2 (-2, -34.5) -> (18.5, -34.5)
  line L3 (18.5, -34.5) -> (18.5, -14)
  line L4 (18.5, -14) -> (-2, -14)
  line L5 (-2, -14) -> (-2, -34.5)
  line L6 (5.75, -17.5) -> (1.5, -17.5) projected
  line L7 (1.5, -17.5) -> (5.75, -17.5)
  line L8 (5.75, -17.5) -> (5.75, -17)
  line L9 (5.75, -17) -> (10.75, -17)
  line L10 (10.75, -17) -> (10.75, -17.5) projected
  line L11 (10.75, -17) -> (10.75, -17.5)
  line L12 (15, -17.5) -> (10.75, -17.5) projected
  line L13 (10.75, -17.5) -> (15, -17.5)
  line L14 (15, -17.5) -> (15, -31) projected
  line L15 (15, -17.5) -> (15, -31)
  line L16 (15, -31) -> (10.75, -31) projected
  line L17 (15, -31) -> (10.75, -31)
  line L18 (10.75, -31.5) -> (5.75, -31.5) projected
  line L19 (10.75, -31) -> (10.75, -31.5)
  line L20 (10.75, -31.5) -> (5.75, -31.5)
  line L21 (5.75, -31.5) -> (5.75, -31) projected
  line L22 (5.75, -31.5) -> (5.75, -31)
  line L23 (5.75, -31) -> (1.5, -31) projected
  line L24 (5.75, -31) -> (1.5, -31)
  line L25 (1.5, -31) -> (1.5, -17.5)
  point P0 (8.25, -32.5)
extrude "SampleGuideSpacer" add sketch "SampleGuideSpacerSketch" along normal blind 2
sketch "SampleGuideSketch" plane through (-8.25, 31.5, -32.5) normal (0, 1, 0) x (1, 0, 0)
  line L0 (0, -16) -> (16.5, -16)
  line L1 (16.5, -16) -> (16.5, -32.5)
  line L2 (16.5, -32.5) -> (0, -32.5)
  line L3 (0, -32.5) -> (0, -16)
  line L4 (1.5, -17.5) -> (5.75, -17.5) projected
  line L5 (1.5, -31) -> (1.5, -17.5) projected
  line L6 (15, -17.5) -> (15, -31) projected
  line L7 (15, -31) -> (10.75, -31) projected
  line L8 (1.5, -17.5) -> (1.5, -31) projected
  line L9 (1.5, -17.5) -> (15, -17.5)
  line L10 (15, -17.5) -> (15, -31)
  line L11 (15, -31) -> (1.5, -31)
  line L12 (1.5, -31) -> (1.5, -17.5)
  point P0 (8.25, -32.5)
  dimension "d92" = 1.5
  dimension "d93" = 1.5
  dimension "d94" = 1.5
  dimension "d95" = 1.5
extrude "SampleGuide" add sketch "SampleGuideSketch" along normal blind 6.5
chamfer "RefSensorChamfer" distance 1 angle 45 1 edges at (0, 3, 7)
sketch "AlignmentPadsRecessSketch" plane through (0, 0, 0) normal (0, -1, 0) x (1, 0, 0)
  circle A0 centre (6.75, 28) radius 1.25 projected
  circle A1 centre (6.75, 28) radius 1.75
  circle A2 centre (-6.75, 28) radius 1.25 projected
  circle A3 centre (-6.75, 28) radius 1.75
  circle A4 centre (6.75, -28) radius 1.25 projected
  circle A5 centre (6.75, -28) radius 1.75
  circle A6 centre (-6.75, -28) radius 1.25 projected
  circle A7 centre (-6.75, -28) radius 1.75
  point P0 (0, 0)
  dimension "d101" = 0.5
  dimension "d102" = 0.5
  dimension "d103" = 0.5
  dimension "d104" = 0.5
extrude "AlignmentPadsRecess" cut sketch "AlignmentPadsRecessSketch" against normal blind 0.5
equation "\"d4\" = d2"
equation "\"d24\" = d23"
equation "\"d8\" = d7"
equation "\"d16\" = d7"
equation "\"d20\" = d14"
equation "\"d28\" = d14"
equation "\"d29\" = d0"
equation "\"d32\" = d10"
equation "\"d49\" = d48"
equation "\"d54\" = d11"
equation "\"d57\" = d56"
equation "\"d61\" = d60"
equation "\"d72\" = d18"
equation "\"d74\" = d7"
equation "\"d75\" = d5 + d11"
equation "\"d93\" = d92"
equation "\"d94\" = d92"
equation "\"d95\" = d92"
equation "\"d102\" = d101"
equation "\"d103\" = d101"
equation "\"d104\" = d101"
equation "\"d5\" = 3"
properties part number "Colorimeter02"
